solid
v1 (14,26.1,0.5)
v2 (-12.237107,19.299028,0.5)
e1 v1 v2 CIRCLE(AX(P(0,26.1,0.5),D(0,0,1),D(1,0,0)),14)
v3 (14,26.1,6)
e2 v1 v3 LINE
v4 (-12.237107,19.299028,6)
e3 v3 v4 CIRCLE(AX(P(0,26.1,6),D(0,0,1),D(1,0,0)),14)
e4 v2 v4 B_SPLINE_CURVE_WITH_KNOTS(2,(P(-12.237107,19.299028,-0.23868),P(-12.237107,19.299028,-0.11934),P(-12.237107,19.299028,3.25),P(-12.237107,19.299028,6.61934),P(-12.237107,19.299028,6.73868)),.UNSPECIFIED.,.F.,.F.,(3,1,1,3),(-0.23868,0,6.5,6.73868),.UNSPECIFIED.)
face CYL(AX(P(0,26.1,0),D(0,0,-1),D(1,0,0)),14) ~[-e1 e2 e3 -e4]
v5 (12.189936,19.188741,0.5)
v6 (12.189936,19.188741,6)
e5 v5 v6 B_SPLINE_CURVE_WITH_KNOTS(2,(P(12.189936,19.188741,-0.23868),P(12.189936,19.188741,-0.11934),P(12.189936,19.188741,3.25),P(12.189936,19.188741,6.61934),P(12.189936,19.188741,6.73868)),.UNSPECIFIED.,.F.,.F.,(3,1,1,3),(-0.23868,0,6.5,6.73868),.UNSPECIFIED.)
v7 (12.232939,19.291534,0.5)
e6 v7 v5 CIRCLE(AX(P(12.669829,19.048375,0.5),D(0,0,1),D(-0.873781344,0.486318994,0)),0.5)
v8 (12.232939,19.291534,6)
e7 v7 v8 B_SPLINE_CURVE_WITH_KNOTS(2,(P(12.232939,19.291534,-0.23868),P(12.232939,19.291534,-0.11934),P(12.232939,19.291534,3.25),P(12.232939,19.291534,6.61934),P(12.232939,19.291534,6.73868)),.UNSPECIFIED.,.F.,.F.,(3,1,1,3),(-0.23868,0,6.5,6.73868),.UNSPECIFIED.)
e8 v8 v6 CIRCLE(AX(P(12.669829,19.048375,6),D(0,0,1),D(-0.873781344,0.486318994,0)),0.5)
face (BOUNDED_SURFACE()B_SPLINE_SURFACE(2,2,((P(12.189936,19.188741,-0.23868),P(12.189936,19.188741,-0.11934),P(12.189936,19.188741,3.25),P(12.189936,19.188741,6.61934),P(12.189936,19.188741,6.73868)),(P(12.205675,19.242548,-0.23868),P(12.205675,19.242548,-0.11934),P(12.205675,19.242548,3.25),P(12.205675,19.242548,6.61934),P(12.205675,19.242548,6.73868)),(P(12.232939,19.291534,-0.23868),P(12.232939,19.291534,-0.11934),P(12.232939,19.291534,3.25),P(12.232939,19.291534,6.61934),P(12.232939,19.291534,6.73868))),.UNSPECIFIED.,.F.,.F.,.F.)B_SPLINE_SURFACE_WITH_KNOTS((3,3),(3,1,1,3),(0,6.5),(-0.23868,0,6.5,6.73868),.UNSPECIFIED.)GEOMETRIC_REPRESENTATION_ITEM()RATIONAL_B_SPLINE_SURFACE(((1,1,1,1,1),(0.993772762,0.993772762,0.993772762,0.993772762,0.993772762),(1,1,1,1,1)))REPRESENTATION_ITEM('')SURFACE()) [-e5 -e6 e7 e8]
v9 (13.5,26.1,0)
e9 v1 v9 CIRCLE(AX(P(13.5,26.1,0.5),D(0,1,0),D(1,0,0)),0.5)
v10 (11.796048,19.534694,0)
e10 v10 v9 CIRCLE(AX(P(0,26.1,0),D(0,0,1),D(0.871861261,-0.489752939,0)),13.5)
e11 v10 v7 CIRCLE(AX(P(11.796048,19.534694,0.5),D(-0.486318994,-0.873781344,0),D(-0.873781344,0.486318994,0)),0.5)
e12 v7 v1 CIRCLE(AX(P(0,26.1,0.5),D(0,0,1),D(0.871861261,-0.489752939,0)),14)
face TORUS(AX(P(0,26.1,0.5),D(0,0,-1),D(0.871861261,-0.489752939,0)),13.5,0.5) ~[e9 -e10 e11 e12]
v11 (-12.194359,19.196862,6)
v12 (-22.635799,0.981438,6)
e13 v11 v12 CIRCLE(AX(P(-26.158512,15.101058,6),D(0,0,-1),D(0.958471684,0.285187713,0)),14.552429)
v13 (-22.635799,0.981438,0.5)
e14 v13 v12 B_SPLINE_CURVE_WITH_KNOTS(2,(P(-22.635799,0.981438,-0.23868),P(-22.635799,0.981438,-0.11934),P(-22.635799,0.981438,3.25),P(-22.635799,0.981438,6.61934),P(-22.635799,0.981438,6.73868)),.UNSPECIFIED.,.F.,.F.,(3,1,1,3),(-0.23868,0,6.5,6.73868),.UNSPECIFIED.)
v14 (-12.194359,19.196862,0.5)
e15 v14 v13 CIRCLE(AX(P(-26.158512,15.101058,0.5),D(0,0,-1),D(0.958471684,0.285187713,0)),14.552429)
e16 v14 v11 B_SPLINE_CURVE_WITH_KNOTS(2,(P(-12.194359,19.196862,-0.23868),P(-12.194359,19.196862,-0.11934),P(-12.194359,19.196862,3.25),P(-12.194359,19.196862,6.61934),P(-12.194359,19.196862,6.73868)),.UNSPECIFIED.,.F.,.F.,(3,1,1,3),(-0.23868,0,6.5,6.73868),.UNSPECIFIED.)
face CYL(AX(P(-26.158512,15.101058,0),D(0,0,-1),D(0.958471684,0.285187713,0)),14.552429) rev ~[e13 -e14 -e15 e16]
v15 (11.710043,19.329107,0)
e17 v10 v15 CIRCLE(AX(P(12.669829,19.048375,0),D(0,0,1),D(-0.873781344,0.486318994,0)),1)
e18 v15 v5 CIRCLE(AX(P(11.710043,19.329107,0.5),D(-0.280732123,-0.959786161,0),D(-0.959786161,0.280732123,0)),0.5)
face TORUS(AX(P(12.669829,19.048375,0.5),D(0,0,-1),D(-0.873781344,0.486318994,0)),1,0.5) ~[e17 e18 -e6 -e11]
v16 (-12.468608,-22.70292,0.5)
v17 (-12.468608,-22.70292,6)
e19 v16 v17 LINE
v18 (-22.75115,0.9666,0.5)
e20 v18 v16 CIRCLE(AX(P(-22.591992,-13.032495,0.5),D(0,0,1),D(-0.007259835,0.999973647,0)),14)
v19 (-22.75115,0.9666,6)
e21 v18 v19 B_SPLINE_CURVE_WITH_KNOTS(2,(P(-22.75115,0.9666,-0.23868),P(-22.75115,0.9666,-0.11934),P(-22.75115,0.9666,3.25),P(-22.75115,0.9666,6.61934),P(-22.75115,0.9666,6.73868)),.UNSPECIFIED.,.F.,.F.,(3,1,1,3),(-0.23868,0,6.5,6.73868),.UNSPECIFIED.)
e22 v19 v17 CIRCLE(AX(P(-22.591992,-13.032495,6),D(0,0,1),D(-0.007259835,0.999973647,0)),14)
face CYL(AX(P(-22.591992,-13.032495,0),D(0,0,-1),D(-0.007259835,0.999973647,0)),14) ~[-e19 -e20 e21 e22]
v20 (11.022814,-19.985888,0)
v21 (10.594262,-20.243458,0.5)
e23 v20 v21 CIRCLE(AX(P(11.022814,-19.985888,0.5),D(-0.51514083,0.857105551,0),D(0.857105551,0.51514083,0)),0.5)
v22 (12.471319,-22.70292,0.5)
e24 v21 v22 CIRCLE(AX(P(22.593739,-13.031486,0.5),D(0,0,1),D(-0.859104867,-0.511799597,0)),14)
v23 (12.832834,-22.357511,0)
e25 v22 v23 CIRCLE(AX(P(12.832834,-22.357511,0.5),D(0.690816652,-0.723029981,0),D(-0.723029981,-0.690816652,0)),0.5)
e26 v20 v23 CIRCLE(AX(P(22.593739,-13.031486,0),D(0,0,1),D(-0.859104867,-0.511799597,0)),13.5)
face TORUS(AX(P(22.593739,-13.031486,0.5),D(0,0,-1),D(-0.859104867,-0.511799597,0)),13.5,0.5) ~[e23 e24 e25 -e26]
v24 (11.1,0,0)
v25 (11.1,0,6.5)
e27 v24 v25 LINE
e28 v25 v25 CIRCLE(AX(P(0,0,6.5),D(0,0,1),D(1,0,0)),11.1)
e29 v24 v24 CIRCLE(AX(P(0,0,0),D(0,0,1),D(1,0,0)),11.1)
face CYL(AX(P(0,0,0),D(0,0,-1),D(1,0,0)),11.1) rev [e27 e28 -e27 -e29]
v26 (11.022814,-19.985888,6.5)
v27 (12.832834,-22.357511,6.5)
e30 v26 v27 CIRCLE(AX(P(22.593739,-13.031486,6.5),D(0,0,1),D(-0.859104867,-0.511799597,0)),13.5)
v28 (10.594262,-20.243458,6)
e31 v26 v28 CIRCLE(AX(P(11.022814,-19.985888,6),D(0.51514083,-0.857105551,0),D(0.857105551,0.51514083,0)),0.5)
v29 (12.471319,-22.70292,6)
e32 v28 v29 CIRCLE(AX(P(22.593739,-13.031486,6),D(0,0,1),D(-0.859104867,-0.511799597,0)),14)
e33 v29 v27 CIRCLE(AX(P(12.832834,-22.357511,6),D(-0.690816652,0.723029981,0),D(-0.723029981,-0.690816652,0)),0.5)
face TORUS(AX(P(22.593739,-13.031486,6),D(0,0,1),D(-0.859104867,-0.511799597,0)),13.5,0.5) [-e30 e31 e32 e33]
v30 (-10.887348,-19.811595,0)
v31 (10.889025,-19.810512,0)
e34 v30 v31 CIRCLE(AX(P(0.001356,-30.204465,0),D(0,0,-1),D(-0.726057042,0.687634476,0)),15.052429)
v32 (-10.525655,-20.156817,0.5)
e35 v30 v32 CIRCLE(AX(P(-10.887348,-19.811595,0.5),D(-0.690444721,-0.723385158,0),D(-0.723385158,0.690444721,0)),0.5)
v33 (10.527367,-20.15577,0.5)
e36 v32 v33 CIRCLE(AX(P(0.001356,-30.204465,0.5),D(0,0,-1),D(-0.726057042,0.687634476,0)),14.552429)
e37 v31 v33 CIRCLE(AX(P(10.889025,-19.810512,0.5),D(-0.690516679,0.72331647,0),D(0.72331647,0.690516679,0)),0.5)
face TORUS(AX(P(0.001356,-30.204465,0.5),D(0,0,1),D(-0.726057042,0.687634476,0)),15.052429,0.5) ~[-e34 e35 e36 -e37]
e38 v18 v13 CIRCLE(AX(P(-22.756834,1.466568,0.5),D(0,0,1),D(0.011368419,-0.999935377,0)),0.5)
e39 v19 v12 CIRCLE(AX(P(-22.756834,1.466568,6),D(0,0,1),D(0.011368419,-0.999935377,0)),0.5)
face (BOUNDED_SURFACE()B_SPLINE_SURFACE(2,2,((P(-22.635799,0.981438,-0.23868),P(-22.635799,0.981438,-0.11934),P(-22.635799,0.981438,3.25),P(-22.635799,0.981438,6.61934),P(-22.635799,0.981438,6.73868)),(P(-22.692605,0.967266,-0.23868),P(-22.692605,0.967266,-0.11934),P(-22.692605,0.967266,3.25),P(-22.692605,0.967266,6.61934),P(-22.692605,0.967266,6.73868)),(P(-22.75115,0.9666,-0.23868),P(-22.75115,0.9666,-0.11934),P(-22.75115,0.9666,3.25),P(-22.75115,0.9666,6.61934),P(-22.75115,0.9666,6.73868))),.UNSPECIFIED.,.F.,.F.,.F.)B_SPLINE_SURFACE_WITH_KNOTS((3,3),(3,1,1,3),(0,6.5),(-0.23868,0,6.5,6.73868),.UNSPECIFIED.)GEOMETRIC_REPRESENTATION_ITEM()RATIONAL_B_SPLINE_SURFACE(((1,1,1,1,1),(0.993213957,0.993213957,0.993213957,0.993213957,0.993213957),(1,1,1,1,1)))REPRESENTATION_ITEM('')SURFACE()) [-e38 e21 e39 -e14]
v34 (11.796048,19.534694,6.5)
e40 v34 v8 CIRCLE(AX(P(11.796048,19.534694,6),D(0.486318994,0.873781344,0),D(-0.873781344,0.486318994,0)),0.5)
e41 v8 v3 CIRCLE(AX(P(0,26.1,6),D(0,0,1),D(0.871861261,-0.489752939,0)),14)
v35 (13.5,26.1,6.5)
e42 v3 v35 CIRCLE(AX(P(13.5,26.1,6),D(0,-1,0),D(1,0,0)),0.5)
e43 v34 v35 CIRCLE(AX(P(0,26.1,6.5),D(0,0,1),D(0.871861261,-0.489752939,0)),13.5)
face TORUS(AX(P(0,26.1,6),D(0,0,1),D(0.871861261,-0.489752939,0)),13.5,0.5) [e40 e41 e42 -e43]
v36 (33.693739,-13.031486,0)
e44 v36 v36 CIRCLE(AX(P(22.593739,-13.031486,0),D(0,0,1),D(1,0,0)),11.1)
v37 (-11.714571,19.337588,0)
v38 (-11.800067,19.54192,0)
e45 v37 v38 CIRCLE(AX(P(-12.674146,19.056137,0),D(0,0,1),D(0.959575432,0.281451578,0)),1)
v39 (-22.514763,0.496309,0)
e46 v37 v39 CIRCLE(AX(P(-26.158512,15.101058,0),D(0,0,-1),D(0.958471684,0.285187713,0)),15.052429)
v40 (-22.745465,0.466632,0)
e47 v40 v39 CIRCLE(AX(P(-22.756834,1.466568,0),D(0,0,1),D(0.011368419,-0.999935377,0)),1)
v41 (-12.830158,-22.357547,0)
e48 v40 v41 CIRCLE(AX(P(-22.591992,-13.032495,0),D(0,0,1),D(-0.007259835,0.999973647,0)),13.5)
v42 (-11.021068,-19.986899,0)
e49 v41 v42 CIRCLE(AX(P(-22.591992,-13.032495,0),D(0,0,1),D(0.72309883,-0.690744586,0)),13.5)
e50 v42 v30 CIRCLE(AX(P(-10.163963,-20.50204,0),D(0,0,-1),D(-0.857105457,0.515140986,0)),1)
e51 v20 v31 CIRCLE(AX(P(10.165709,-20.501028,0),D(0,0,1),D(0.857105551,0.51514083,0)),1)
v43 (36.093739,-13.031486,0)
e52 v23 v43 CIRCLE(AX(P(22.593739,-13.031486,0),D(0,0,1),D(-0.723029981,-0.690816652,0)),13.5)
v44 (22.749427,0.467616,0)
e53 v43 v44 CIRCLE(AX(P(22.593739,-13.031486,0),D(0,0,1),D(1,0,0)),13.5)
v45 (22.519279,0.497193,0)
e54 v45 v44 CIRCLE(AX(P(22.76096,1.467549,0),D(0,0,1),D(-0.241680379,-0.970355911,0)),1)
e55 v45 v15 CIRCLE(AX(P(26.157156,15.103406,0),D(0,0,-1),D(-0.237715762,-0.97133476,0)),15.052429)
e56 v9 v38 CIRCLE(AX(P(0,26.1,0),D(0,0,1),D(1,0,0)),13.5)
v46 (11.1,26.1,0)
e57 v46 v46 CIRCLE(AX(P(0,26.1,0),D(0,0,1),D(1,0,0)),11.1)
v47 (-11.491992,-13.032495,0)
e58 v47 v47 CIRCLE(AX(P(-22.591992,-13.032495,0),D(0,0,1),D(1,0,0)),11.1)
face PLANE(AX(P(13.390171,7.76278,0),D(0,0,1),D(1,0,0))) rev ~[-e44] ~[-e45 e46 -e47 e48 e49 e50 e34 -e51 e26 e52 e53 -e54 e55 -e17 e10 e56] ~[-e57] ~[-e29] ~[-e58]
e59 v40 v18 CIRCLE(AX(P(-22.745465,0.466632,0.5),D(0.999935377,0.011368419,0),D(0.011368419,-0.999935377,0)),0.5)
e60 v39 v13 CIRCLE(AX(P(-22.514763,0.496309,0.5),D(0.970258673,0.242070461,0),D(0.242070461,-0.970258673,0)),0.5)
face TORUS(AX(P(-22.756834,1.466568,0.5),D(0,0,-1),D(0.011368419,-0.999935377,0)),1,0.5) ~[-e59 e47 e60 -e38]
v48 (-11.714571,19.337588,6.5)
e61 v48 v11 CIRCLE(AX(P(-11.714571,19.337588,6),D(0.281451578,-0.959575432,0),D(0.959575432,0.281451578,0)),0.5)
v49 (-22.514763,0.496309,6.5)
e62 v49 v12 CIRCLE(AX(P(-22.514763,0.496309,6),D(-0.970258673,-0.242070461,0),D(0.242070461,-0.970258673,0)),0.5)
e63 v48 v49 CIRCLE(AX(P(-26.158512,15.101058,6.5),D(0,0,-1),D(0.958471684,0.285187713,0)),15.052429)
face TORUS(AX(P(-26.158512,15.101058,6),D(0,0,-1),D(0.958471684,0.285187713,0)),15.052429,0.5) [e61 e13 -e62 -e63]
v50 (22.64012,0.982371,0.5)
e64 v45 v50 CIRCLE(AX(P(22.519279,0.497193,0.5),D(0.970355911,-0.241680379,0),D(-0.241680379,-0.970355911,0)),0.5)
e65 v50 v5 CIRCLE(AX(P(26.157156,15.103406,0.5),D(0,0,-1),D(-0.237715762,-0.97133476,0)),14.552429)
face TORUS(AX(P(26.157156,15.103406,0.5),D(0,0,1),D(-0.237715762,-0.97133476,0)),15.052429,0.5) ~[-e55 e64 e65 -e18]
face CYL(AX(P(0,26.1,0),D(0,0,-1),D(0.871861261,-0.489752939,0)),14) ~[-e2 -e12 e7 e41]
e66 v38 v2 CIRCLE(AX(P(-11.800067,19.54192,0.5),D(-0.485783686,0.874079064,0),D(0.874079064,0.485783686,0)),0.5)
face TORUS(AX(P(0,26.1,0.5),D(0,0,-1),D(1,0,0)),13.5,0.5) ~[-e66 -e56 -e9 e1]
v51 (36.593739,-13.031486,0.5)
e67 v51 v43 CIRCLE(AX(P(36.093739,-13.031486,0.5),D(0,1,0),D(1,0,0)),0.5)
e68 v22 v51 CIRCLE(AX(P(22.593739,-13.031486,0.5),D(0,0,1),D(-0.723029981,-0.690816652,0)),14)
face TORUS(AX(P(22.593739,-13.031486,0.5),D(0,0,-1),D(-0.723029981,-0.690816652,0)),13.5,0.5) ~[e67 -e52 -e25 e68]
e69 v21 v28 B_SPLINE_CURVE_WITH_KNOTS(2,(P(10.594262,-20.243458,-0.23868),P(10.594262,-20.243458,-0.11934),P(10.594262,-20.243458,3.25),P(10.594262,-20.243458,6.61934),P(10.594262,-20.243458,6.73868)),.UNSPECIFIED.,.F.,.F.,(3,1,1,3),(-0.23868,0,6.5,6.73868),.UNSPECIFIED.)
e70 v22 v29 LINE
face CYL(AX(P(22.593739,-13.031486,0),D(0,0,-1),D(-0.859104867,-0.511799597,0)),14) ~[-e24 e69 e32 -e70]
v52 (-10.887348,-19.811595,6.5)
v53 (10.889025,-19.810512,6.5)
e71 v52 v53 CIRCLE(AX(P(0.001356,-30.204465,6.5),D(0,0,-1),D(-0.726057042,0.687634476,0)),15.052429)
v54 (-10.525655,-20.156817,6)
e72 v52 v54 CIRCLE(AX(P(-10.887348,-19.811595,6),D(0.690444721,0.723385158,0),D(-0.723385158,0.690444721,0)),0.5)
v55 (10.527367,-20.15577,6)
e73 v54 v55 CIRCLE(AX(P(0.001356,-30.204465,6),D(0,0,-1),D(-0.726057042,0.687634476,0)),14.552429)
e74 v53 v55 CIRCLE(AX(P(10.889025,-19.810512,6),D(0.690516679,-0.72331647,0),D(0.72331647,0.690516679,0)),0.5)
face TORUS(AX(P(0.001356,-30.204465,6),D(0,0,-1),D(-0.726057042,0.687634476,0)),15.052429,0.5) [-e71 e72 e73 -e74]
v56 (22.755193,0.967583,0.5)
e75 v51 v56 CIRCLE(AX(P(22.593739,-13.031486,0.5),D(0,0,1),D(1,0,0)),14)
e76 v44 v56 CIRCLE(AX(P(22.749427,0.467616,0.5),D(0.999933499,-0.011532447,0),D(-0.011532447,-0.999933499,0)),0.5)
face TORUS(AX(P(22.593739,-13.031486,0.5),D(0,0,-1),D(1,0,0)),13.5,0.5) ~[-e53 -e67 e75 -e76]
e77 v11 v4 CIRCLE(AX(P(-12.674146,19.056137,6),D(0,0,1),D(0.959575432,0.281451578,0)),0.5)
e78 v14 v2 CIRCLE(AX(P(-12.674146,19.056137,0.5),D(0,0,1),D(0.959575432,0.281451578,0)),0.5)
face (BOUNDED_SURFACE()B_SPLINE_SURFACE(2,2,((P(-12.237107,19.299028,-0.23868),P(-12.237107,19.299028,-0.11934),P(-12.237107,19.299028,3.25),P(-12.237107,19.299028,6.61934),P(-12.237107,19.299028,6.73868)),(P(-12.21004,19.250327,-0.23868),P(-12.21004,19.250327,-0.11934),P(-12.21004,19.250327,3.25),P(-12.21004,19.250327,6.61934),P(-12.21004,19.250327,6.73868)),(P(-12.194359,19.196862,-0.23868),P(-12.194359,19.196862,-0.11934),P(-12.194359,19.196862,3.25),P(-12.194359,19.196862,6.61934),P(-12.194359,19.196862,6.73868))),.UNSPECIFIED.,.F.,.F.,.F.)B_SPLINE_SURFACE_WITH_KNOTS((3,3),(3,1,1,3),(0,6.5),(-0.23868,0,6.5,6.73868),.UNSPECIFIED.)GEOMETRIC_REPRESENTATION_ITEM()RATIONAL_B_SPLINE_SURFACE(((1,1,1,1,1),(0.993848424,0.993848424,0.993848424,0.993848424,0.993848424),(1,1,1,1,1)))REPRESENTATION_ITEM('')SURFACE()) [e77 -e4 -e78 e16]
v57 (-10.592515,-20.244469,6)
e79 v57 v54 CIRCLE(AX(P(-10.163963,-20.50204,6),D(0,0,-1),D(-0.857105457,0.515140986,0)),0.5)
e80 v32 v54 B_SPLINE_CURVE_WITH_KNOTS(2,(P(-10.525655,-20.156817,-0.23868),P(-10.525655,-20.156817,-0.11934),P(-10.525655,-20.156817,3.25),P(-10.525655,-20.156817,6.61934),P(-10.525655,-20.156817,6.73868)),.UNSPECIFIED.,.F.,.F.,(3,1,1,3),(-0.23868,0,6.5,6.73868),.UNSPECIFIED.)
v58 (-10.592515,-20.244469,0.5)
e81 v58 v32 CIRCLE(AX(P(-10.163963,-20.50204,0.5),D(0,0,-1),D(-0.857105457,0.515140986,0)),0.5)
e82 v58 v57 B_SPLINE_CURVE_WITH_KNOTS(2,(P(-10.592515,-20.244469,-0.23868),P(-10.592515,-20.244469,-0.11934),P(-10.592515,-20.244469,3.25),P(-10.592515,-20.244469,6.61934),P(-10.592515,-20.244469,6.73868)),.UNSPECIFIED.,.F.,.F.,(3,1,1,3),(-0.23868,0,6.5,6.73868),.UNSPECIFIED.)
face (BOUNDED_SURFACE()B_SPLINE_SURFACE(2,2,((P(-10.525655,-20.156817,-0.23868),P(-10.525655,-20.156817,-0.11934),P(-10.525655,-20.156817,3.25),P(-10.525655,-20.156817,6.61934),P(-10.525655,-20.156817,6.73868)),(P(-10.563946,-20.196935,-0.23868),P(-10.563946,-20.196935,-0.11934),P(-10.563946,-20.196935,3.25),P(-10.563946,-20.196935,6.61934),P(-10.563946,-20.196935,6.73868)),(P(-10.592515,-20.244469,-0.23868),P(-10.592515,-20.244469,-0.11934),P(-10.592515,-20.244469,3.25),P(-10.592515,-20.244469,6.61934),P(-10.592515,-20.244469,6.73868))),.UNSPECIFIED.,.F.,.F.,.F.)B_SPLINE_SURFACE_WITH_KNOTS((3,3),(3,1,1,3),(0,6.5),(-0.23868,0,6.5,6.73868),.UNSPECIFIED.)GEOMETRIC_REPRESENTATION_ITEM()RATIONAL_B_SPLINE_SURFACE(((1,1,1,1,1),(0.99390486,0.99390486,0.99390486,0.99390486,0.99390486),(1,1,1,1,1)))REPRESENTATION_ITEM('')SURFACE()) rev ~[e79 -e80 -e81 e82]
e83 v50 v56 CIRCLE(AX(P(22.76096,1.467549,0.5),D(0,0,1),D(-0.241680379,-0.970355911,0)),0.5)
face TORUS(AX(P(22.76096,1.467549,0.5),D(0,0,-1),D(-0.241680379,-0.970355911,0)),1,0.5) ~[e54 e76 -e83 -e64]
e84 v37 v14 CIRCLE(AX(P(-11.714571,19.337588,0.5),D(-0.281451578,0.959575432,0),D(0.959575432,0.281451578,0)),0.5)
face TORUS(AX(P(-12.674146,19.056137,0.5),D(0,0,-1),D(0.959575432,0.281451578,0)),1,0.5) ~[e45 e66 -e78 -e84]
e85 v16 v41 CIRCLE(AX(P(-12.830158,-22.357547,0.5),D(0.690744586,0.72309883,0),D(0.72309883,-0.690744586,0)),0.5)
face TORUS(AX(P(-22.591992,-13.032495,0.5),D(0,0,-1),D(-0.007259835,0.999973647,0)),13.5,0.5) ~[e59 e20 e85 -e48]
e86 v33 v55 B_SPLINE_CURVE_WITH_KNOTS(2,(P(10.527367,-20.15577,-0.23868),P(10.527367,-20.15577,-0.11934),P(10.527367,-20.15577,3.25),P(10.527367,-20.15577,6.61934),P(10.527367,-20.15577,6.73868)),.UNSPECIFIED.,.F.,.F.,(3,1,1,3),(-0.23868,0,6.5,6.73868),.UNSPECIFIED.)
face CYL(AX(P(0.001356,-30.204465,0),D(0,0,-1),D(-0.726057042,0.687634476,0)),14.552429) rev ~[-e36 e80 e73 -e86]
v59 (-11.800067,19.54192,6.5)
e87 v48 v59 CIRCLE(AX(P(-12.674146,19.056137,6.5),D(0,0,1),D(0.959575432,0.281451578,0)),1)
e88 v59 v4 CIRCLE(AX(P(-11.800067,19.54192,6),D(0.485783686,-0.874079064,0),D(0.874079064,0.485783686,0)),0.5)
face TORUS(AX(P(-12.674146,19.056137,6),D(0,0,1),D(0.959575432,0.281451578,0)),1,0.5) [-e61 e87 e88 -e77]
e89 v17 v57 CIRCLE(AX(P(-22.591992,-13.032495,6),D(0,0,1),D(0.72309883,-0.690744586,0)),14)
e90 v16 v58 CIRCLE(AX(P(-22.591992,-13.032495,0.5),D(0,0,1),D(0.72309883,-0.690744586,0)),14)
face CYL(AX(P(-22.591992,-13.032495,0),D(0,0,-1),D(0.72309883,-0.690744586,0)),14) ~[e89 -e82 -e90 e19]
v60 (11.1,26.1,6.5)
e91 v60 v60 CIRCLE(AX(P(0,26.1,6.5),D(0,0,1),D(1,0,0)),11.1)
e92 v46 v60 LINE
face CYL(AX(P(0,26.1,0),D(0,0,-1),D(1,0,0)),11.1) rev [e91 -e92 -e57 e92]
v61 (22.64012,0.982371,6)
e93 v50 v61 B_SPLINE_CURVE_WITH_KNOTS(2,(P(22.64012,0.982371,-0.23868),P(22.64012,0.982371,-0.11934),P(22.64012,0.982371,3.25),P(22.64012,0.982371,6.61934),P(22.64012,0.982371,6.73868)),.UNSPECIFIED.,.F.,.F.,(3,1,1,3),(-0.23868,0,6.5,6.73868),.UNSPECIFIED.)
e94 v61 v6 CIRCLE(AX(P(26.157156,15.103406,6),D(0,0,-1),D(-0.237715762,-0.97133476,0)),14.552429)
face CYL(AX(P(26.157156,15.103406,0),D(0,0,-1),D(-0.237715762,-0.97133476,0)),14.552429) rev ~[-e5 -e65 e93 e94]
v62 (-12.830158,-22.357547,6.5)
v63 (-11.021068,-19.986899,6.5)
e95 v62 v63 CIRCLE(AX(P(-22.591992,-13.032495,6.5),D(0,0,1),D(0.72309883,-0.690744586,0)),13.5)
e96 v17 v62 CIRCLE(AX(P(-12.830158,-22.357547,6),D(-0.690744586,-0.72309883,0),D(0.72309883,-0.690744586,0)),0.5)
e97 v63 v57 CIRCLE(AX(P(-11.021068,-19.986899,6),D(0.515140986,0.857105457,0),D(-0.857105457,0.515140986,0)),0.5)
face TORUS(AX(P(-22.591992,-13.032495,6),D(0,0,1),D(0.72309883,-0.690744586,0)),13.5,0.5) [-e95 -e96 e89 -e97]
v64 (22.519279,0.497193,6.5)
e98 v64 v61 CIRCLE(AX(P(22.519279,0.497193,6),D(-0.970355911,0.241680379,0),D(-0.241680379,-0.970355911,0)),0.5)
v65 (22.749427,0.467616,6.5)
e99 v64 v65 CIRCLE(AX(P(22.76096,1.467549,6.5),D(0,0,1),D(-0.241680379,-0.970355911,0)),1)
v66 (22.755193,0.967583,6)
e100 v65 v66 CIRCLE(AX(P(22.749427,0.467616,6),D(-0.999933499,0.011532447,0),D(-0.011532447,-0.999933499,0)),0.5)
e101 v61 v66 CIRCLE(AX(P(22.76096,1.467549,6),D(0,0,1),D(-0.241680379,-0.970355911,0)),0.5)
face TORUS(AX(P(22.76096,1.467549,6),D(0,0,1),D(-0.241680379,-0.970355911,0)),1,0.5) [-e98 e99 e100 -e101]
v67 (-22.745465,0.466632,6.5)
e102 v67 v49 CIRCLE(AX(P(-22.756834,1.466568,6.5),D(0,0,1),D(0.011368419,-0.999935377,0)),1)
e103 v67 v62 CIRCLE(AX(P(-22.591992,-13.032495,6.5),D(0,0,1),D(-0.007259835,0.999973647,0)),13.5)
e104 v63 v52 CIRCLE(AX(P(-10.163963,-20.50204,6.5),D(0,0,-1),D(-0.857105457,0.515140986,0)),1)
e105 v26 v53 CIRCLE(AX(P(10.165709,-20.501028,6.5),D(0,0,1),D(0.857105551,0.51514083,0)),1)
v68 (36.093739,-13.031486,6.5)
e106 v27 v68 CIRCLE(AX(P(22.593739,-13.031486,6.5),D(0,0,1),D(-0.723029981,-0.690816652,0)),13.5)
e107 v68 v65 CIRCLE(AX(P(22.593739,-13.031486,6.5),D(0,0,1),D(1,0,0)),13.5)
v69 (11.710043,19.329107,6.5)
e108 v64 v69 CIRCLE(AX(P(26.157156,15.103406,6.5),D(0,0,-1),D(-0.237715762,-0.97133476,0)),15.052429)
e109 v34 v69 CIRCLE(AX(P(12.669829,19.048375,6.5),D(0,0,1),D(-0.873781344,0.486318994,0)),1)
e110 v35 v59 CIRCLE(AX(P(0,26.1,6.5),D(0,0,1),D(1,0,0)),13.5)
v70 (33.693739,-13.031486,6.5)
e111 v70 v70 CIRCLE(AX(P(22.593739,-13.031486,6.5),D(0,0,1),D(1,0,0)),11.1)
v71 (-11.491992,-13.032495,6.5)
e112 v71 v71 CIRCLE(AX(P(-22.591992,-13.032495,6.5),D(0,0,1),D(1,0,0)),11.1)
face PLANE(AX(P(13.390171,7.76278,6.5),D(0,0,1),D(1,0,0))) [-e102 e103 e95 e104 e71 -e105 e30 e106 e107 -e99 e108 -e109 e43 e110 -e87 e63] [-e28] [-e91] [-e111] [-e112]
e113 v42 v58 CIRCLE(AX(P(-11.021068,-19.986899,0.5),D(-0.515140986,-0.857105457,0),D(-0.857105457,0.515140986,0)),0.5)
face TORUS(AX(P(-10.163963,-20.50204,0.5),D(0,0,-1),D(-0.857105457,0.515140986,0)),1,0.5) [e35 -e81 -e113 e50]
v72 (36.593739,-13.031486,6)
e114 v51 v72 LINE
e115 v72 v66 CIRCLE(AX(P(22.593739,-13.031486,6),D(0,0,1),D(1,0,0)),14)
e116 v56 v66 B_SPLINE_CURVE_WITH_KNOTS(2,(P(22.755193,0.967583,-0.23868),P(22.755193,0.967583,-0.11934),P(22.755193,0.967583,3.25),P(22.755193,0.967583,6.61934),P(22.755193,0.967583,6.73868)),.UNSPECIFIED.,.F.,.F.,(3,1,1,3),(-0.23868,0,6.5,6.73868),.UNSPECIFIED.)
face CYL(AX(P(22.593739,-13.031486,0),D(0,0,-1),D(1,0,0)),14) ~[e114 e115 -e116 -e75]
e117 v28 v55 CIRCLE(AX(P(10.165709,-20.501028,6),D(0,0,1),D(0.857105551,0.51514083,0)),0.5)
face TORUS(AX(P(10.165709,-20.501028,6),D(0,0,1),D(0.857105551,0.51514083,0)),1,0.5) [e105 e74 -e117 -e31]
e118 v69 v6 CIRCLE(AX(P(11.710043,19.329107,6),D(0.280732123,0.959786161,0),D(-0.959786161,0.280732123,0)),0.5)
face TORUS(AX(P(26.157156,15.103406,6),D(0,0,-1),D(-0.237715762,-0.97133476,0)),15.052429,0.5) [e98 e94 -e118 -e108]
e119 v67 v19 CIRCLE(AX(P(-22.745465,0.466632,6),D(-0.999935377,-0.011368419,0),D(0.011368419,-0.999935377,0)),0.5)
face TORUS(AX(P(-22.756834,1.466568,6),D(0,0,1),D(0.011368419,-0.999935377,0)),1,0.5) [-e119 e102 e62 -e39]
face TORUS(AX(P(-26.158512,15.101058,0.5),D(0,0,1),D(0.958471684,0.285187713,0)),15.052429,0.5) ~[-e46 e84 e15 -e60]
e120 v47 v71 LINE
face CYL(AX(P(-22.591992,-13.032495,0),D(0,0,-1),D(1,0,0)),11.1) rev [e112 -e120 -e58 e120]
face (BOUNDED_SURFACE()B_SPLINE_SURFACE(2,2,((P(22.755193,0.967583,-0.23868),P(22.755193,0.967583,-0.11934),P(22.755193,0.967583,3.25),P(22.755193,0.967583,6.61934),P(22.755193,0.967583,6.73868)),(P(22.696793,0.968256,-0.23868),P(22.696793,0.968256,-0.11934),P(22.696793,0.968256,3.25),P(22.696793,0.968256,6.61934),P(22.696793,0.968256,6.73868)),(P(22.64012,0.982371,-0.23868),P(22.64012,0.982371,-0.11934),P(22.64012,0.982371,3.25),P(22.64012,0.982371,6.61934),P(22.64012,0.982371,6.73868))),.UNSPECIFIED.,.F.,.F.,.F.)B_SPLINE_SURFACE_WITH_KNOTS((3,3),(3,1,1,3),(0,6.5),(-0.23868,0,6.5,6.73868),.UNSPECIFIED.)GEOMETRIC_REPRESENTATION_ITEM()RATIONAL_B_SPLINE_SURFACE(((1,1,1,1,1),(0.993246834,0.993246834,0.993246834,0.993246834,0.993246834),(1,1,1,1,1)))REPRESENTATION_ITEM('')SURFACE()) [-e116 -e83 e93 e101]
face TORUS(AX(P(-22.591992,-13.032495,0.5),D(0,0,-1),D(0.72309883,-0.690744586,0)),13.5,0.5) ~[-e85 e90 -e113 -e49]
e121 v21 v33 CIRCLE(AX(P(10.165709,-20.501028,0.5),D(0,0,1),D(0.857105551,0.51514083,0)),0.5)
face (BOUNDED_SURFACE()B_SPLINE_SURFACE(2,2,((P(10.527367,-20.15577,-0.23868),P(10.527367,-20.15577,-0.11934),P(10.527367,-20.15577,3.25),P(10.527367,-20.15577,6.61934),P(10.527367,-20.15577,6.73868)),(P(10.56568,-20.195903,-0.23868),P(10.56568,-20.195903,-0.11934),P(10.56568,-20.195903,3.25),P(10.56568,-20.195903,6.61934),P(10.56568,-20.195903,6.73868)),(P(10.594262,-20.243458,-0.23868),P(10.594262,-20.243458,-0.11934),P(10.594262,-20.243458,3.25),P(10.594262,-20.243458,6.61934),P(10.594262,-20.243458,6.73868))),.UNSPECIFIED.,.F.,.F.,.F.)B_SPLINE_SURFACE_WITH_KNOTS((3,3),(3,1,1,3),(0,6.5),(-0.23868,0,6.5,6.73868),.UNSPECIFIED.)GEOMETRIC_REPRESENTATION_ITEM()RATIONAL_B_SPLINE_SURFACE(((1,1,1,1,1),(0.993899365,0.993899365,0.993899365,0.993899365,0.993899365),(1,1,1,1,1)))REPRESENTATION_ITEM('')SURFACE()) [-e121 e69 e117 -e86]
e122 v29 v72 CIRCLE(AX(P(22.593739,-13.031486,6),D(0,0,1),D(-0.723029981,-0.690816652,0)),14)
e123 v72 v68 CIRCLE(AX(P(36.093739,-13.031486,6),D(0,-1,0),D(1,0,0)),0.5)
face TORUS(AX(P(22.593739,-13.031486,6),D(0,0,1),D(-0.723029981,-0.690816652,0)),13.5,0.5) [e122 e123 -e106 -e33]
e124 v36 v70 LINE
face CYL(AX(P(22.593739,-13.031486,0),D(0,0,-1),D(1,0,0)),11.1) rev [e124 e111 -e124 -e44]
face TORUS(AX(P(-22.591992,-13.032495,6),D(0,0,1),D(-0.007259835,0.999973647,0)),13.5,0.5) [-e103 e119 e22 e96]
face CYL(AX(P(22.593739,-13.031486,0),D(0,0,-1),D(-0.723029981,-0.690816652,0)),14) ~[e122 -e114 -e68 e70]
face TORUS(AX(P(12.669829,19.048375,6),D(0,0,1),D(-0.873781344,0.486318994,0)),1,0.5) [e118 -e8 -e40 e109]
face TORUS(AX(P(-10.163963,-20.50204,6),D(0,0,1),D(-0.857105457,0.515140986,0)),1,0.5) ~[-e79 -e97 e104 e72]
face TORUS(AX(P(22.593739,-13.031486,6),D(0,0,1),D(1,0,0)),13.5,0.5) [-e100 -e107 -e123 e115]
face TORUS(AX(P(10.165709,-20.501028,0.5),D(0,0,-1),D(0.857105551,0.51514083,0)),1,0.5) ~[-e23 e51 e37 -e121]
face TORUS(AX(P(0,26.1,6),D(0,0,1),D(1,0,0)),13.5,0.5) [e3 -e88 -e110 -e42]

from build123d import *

# Parameters (mm, degrees)
F0_R     = 11.1
F1_DEPTH = 6.5
F2_R     = 0.5


with BuildPart() as f1:
    # F0 (on Top) → F1 (new body)
    with BuildSketch(Plane.XY):
        with BuildLine():
            ThreePointArc((5.0692701644, 13.05), (11.553566166, 7.9066496602), (14, 0))
            ThreePointArc((14, 0), (13.9601518799, -1.0555375362), (13.8408343585, -2.1050663314))
            ThreePointArc((13.8408343585, -2.1050663314), (18.004437216, 0.1949381386), (22.6978143308, 0.9681267154))
            ThreePointArc((22.6978143308, 0.9681267154), (13.5366252412, 7.8580367735), (12.2060576589, 19.2434588584))
            ThreePointArc((12.2060576589, 19.2434588584), (9.175999728, 15.5263994311), (5.0692701644, 13.05))
        make_face()
        with BuildLine():
            ThreePointArc((-5.0692701644, 13.05), (0, 14), (5.0692701644, 13.05))
            ThreePointArc((5.0692701644, 13.05), (9.175999728, 15.5263994311), (12.2060576589, 19.2434588584))
            ThreePointArc((12.2060576589, 19.2434588584), (13.5440910958, 22.5563300962), (14, 26.1))
            ThreePointArc((14, 26.1), (-3.5393577793, 39.6452185848), (-12.21042093, 19.2512321757))
            ThreePointArc((-12.21042093, 19.2512321757), (-9.1793655121, 15.5293212708), (-5.0692701644, 13.05))
        make_face()
        with Locations((0, 26.1)):
            Circle(F0_R, mode=Mode.SUBTRACT)
        with BuildLine():
            ThreePointArc((22.6978143308, 0.9681267154), (18.004437216, 0.1949381386), (13.8408343585, -2.1050663314))
            ThreePointArc((13.8408343585, -2.1050663314), (12.127379507, -6.9947599168), (8.7529048726, -10.9264201041))
            ThreePointArc((8.7529048726, -10.9264201041), (8.8541358225, -15.7191058605), (10.5662710931, -20.1966807935))
            ThreePointArc((10.5662710931, -20.1966807935), (11.5867656184, -21.3981344051), (12.4713194941, -22.7029195592))
            ThreePointArc((12.4713194941, -22.7029195592), (27.8036395988, -26.0259828921), (36.5937392312, -13.0314864355))
            ThreePointArc((36.5937392312, -13.0314864355), (32.5299621401, -3.1688562436), (22.6978143308, 0.9681267154))
        make_face()
        with Locations((22.5937392312, -13.0314864355)):
            Circle(F0_R, mode=Mode.SUBTRACT)
        with BuildLine():
            ThreePointArc((-13.8409020192, -2.1046214136), (-12.116694704, 7.0132524159), (-5.0692701644, 13.05))
            ThreePointArc((-5.0692701644, 13.05), (-9.1793655121, 15.5293212708), (-12.21042093, 19.2512321757))
            ThreePointArc((-12.21042093, 19.2512321757), (-13.5339343288, 7.8627418895), (-22.693629411, 0.9671357003))
            ThreePointArc((-22.693629411, 0.9671357003), (-18.0026368682, 0.1939108804), (-13.8409020192, -2.1046214136))
        make_face()
        with BuildLine():
            ThreePointArc((10.5662710931, -20.1966807935), (8.8541358225, -15.7191058605), (8.7529048726, -10.9264201041))
            ThreePointArc((8.7529048726, -10.9264201041), (0.0011628072, -13.9999999517), (-8.7510897062, -10.9278739448))
            ThreePointArc((-8.7510897062, -10.9278739448), (-8.6318228821, -11.9771821985), (-8.5919917254, -13.0324953584))
            ThreePointArc((-8.5919917254, -13.0324953584), (-9.0941334117, -16.748382997), (-10.5645375744, -20.197713195))
            ThreePointArc((-10.5645375744, -20.197713195), (0.0006446935, -15.6520362214), (10.5662710931, -20.1966807935))
        make_face()
        with BuildLine():
            ThreePointArc((-8.7510897062, -10.9278739448), (-12.1269109355, -6.9955722541), (-13.8409020192, -2.1046214136))
            ThreePointArc((-13.8409020192, -2.1046214136), (-18.0026368682, 0.1939108804), (-22.693629411, 0.9671357003))
            ThreePointArc((-22.693629411, 0.9671357003), (-35.4441015466, -18.5843664974), (-12.4686081124, -22.7029195592))
            ThreePointArc((-12.4686081124, -22.7029195592), (-11.5844844795, -21.3987004515), (-10.5645375744, -20.197713195))
            ThreePointArc((-10.5645375744, -20.197713195), (-9.0941334117, -16.748382997), (-8.5919917254, -13.0324953584))
            ThreePointArc((-8.5919917254, -13.0324953584), (-8.6318228821, -11.9771821985), (-8.7510897062, -10.9278739448))
        make_face()
        with Locations((-22.5919917254, -13.0324953584)):
            Circle(F0_R, mode=Mode.SUBTRACT)
        with BuildLine():
            ThreePointArc((12.4713194941, -22.7029195592), (11.5867656184, -21.3981344051), (10.5662710931, -20.1966807935))
            ThreePointArc((10.5662710931, -20.1966807935), (11.4481261297, -21.5035173958), (12.4713194941, -22.7029195592))
        make_face()
        with BuildLine():
            ThreePointArc((-12.4686081124, -22.7029195592), (-11.4459647138, -21.5039817602), (-10.5645375744, -20.197713195))
            ThreePointArc((-10.5645375744, -20.197713195), (-11.5844844795, -21.3987004515), (-12.4686081124, -22.7029195592))
        make_face()
        with BuildLine():
            ThreePointArc((13.8408343585, -2.1050663314), (13.9601518799, -1.0555375362), (14, 0))
            ThreePointArc((14, 0), (11.553566166, 7.9066496602), (5.0692701644, 13.05))
            ThreePointArc((5.0692701644, 13.05), (0, 12.1), (-5.0692701644, 13.05))
            ThreePointArc((-5.0692701644, 13.05), (-12.116694704, 7.0132524159), (-13.8409020192, -2.1046214136))
            ThreePointArc((-13.8409020192, -2.1046214136), (-10.4650807899, -6.0369231043), (-8.7510897062, -10.9278739448))
            ThreePointArc((-8.7510897062, -10.9278739448), (0.0011628072, -13.9999999517), (8.7529048726, -10.9264201041))
            ThreePointArc((8.7529048726, -10.9264201041), (10.4663597241, -6.0367265187), (13.8408343585, -2.1050663314))
        make_face()
        Circle(F0_R, mode=Mode.SUBTRACT)
        with BuildLine():
            ThreePointArc((-8.7510897062, -10.9278739448), (-10.4650807899, -6.0369231043), (-13.8409020192, -2.1046214136))
            ThreePointArc((-13.8409020192, -2.1046214136), (-12.1269109355, -6.9955722541), (-8.7510897062, -10.9278739448))
        make_face()
        with BuildLine():
            ThreePointArc((8.7529048726, -10.9264201041), (12.127379507, -6.9947599168), (13.8408343585, -2.1050663314))
            ThreePointArc((13.8408343585, -2.1050663314), (10.4663597241, -6.0367265187), (8.7529048726, -10.9264201041))
        make_face()
        with BuildLine():
            ThreePointArc((-5.0692701644, 13.05), (0, 12.1), (5.0692701644, 13.05))
            ThreePointArc((5.0692701644, 13.05), (0, 14), (-5.0692701644, 13.05))
        make_face()
    extrude(amount=F1_DEPTH)

    # F2
    f2_edges = [f1.edges().sort_by_distance(p)[0] for p in [
        (-22.693629, 0.967136, 3.25),
        (-10.564538, -20.197713, 3.25),
        (-34.73876, -19.993531, 0),
        (-34.73876, -19.993531, 6.5),
        (-12.210421, 19.251232, 3.25),
        (-13.533934, 7.862742, 0),
        (-13.533934, 7.862742, 6.5),
        (12.206058, 19.243459, 3.25),
        (0.004457, 40.099999, 0),
        (0.004457, 40.099999, 6.5),
        (22.697814, 0.968127, 3.25),
        (13.536625, 7.858037, 0),
        (13.536625, 7.858037, 6.5),
        (10.566271, -20.196681, 3.25),
        (34.739895, -19.993591, 0),
        (34.739895, -19.993591, 6.5),
        (0.000645, -15.652036, 0),
        (0.000645, -15.652036, 6.5),
    ]]
    fillet(f2_edges, radius=F2_R)


solid = f1.part
